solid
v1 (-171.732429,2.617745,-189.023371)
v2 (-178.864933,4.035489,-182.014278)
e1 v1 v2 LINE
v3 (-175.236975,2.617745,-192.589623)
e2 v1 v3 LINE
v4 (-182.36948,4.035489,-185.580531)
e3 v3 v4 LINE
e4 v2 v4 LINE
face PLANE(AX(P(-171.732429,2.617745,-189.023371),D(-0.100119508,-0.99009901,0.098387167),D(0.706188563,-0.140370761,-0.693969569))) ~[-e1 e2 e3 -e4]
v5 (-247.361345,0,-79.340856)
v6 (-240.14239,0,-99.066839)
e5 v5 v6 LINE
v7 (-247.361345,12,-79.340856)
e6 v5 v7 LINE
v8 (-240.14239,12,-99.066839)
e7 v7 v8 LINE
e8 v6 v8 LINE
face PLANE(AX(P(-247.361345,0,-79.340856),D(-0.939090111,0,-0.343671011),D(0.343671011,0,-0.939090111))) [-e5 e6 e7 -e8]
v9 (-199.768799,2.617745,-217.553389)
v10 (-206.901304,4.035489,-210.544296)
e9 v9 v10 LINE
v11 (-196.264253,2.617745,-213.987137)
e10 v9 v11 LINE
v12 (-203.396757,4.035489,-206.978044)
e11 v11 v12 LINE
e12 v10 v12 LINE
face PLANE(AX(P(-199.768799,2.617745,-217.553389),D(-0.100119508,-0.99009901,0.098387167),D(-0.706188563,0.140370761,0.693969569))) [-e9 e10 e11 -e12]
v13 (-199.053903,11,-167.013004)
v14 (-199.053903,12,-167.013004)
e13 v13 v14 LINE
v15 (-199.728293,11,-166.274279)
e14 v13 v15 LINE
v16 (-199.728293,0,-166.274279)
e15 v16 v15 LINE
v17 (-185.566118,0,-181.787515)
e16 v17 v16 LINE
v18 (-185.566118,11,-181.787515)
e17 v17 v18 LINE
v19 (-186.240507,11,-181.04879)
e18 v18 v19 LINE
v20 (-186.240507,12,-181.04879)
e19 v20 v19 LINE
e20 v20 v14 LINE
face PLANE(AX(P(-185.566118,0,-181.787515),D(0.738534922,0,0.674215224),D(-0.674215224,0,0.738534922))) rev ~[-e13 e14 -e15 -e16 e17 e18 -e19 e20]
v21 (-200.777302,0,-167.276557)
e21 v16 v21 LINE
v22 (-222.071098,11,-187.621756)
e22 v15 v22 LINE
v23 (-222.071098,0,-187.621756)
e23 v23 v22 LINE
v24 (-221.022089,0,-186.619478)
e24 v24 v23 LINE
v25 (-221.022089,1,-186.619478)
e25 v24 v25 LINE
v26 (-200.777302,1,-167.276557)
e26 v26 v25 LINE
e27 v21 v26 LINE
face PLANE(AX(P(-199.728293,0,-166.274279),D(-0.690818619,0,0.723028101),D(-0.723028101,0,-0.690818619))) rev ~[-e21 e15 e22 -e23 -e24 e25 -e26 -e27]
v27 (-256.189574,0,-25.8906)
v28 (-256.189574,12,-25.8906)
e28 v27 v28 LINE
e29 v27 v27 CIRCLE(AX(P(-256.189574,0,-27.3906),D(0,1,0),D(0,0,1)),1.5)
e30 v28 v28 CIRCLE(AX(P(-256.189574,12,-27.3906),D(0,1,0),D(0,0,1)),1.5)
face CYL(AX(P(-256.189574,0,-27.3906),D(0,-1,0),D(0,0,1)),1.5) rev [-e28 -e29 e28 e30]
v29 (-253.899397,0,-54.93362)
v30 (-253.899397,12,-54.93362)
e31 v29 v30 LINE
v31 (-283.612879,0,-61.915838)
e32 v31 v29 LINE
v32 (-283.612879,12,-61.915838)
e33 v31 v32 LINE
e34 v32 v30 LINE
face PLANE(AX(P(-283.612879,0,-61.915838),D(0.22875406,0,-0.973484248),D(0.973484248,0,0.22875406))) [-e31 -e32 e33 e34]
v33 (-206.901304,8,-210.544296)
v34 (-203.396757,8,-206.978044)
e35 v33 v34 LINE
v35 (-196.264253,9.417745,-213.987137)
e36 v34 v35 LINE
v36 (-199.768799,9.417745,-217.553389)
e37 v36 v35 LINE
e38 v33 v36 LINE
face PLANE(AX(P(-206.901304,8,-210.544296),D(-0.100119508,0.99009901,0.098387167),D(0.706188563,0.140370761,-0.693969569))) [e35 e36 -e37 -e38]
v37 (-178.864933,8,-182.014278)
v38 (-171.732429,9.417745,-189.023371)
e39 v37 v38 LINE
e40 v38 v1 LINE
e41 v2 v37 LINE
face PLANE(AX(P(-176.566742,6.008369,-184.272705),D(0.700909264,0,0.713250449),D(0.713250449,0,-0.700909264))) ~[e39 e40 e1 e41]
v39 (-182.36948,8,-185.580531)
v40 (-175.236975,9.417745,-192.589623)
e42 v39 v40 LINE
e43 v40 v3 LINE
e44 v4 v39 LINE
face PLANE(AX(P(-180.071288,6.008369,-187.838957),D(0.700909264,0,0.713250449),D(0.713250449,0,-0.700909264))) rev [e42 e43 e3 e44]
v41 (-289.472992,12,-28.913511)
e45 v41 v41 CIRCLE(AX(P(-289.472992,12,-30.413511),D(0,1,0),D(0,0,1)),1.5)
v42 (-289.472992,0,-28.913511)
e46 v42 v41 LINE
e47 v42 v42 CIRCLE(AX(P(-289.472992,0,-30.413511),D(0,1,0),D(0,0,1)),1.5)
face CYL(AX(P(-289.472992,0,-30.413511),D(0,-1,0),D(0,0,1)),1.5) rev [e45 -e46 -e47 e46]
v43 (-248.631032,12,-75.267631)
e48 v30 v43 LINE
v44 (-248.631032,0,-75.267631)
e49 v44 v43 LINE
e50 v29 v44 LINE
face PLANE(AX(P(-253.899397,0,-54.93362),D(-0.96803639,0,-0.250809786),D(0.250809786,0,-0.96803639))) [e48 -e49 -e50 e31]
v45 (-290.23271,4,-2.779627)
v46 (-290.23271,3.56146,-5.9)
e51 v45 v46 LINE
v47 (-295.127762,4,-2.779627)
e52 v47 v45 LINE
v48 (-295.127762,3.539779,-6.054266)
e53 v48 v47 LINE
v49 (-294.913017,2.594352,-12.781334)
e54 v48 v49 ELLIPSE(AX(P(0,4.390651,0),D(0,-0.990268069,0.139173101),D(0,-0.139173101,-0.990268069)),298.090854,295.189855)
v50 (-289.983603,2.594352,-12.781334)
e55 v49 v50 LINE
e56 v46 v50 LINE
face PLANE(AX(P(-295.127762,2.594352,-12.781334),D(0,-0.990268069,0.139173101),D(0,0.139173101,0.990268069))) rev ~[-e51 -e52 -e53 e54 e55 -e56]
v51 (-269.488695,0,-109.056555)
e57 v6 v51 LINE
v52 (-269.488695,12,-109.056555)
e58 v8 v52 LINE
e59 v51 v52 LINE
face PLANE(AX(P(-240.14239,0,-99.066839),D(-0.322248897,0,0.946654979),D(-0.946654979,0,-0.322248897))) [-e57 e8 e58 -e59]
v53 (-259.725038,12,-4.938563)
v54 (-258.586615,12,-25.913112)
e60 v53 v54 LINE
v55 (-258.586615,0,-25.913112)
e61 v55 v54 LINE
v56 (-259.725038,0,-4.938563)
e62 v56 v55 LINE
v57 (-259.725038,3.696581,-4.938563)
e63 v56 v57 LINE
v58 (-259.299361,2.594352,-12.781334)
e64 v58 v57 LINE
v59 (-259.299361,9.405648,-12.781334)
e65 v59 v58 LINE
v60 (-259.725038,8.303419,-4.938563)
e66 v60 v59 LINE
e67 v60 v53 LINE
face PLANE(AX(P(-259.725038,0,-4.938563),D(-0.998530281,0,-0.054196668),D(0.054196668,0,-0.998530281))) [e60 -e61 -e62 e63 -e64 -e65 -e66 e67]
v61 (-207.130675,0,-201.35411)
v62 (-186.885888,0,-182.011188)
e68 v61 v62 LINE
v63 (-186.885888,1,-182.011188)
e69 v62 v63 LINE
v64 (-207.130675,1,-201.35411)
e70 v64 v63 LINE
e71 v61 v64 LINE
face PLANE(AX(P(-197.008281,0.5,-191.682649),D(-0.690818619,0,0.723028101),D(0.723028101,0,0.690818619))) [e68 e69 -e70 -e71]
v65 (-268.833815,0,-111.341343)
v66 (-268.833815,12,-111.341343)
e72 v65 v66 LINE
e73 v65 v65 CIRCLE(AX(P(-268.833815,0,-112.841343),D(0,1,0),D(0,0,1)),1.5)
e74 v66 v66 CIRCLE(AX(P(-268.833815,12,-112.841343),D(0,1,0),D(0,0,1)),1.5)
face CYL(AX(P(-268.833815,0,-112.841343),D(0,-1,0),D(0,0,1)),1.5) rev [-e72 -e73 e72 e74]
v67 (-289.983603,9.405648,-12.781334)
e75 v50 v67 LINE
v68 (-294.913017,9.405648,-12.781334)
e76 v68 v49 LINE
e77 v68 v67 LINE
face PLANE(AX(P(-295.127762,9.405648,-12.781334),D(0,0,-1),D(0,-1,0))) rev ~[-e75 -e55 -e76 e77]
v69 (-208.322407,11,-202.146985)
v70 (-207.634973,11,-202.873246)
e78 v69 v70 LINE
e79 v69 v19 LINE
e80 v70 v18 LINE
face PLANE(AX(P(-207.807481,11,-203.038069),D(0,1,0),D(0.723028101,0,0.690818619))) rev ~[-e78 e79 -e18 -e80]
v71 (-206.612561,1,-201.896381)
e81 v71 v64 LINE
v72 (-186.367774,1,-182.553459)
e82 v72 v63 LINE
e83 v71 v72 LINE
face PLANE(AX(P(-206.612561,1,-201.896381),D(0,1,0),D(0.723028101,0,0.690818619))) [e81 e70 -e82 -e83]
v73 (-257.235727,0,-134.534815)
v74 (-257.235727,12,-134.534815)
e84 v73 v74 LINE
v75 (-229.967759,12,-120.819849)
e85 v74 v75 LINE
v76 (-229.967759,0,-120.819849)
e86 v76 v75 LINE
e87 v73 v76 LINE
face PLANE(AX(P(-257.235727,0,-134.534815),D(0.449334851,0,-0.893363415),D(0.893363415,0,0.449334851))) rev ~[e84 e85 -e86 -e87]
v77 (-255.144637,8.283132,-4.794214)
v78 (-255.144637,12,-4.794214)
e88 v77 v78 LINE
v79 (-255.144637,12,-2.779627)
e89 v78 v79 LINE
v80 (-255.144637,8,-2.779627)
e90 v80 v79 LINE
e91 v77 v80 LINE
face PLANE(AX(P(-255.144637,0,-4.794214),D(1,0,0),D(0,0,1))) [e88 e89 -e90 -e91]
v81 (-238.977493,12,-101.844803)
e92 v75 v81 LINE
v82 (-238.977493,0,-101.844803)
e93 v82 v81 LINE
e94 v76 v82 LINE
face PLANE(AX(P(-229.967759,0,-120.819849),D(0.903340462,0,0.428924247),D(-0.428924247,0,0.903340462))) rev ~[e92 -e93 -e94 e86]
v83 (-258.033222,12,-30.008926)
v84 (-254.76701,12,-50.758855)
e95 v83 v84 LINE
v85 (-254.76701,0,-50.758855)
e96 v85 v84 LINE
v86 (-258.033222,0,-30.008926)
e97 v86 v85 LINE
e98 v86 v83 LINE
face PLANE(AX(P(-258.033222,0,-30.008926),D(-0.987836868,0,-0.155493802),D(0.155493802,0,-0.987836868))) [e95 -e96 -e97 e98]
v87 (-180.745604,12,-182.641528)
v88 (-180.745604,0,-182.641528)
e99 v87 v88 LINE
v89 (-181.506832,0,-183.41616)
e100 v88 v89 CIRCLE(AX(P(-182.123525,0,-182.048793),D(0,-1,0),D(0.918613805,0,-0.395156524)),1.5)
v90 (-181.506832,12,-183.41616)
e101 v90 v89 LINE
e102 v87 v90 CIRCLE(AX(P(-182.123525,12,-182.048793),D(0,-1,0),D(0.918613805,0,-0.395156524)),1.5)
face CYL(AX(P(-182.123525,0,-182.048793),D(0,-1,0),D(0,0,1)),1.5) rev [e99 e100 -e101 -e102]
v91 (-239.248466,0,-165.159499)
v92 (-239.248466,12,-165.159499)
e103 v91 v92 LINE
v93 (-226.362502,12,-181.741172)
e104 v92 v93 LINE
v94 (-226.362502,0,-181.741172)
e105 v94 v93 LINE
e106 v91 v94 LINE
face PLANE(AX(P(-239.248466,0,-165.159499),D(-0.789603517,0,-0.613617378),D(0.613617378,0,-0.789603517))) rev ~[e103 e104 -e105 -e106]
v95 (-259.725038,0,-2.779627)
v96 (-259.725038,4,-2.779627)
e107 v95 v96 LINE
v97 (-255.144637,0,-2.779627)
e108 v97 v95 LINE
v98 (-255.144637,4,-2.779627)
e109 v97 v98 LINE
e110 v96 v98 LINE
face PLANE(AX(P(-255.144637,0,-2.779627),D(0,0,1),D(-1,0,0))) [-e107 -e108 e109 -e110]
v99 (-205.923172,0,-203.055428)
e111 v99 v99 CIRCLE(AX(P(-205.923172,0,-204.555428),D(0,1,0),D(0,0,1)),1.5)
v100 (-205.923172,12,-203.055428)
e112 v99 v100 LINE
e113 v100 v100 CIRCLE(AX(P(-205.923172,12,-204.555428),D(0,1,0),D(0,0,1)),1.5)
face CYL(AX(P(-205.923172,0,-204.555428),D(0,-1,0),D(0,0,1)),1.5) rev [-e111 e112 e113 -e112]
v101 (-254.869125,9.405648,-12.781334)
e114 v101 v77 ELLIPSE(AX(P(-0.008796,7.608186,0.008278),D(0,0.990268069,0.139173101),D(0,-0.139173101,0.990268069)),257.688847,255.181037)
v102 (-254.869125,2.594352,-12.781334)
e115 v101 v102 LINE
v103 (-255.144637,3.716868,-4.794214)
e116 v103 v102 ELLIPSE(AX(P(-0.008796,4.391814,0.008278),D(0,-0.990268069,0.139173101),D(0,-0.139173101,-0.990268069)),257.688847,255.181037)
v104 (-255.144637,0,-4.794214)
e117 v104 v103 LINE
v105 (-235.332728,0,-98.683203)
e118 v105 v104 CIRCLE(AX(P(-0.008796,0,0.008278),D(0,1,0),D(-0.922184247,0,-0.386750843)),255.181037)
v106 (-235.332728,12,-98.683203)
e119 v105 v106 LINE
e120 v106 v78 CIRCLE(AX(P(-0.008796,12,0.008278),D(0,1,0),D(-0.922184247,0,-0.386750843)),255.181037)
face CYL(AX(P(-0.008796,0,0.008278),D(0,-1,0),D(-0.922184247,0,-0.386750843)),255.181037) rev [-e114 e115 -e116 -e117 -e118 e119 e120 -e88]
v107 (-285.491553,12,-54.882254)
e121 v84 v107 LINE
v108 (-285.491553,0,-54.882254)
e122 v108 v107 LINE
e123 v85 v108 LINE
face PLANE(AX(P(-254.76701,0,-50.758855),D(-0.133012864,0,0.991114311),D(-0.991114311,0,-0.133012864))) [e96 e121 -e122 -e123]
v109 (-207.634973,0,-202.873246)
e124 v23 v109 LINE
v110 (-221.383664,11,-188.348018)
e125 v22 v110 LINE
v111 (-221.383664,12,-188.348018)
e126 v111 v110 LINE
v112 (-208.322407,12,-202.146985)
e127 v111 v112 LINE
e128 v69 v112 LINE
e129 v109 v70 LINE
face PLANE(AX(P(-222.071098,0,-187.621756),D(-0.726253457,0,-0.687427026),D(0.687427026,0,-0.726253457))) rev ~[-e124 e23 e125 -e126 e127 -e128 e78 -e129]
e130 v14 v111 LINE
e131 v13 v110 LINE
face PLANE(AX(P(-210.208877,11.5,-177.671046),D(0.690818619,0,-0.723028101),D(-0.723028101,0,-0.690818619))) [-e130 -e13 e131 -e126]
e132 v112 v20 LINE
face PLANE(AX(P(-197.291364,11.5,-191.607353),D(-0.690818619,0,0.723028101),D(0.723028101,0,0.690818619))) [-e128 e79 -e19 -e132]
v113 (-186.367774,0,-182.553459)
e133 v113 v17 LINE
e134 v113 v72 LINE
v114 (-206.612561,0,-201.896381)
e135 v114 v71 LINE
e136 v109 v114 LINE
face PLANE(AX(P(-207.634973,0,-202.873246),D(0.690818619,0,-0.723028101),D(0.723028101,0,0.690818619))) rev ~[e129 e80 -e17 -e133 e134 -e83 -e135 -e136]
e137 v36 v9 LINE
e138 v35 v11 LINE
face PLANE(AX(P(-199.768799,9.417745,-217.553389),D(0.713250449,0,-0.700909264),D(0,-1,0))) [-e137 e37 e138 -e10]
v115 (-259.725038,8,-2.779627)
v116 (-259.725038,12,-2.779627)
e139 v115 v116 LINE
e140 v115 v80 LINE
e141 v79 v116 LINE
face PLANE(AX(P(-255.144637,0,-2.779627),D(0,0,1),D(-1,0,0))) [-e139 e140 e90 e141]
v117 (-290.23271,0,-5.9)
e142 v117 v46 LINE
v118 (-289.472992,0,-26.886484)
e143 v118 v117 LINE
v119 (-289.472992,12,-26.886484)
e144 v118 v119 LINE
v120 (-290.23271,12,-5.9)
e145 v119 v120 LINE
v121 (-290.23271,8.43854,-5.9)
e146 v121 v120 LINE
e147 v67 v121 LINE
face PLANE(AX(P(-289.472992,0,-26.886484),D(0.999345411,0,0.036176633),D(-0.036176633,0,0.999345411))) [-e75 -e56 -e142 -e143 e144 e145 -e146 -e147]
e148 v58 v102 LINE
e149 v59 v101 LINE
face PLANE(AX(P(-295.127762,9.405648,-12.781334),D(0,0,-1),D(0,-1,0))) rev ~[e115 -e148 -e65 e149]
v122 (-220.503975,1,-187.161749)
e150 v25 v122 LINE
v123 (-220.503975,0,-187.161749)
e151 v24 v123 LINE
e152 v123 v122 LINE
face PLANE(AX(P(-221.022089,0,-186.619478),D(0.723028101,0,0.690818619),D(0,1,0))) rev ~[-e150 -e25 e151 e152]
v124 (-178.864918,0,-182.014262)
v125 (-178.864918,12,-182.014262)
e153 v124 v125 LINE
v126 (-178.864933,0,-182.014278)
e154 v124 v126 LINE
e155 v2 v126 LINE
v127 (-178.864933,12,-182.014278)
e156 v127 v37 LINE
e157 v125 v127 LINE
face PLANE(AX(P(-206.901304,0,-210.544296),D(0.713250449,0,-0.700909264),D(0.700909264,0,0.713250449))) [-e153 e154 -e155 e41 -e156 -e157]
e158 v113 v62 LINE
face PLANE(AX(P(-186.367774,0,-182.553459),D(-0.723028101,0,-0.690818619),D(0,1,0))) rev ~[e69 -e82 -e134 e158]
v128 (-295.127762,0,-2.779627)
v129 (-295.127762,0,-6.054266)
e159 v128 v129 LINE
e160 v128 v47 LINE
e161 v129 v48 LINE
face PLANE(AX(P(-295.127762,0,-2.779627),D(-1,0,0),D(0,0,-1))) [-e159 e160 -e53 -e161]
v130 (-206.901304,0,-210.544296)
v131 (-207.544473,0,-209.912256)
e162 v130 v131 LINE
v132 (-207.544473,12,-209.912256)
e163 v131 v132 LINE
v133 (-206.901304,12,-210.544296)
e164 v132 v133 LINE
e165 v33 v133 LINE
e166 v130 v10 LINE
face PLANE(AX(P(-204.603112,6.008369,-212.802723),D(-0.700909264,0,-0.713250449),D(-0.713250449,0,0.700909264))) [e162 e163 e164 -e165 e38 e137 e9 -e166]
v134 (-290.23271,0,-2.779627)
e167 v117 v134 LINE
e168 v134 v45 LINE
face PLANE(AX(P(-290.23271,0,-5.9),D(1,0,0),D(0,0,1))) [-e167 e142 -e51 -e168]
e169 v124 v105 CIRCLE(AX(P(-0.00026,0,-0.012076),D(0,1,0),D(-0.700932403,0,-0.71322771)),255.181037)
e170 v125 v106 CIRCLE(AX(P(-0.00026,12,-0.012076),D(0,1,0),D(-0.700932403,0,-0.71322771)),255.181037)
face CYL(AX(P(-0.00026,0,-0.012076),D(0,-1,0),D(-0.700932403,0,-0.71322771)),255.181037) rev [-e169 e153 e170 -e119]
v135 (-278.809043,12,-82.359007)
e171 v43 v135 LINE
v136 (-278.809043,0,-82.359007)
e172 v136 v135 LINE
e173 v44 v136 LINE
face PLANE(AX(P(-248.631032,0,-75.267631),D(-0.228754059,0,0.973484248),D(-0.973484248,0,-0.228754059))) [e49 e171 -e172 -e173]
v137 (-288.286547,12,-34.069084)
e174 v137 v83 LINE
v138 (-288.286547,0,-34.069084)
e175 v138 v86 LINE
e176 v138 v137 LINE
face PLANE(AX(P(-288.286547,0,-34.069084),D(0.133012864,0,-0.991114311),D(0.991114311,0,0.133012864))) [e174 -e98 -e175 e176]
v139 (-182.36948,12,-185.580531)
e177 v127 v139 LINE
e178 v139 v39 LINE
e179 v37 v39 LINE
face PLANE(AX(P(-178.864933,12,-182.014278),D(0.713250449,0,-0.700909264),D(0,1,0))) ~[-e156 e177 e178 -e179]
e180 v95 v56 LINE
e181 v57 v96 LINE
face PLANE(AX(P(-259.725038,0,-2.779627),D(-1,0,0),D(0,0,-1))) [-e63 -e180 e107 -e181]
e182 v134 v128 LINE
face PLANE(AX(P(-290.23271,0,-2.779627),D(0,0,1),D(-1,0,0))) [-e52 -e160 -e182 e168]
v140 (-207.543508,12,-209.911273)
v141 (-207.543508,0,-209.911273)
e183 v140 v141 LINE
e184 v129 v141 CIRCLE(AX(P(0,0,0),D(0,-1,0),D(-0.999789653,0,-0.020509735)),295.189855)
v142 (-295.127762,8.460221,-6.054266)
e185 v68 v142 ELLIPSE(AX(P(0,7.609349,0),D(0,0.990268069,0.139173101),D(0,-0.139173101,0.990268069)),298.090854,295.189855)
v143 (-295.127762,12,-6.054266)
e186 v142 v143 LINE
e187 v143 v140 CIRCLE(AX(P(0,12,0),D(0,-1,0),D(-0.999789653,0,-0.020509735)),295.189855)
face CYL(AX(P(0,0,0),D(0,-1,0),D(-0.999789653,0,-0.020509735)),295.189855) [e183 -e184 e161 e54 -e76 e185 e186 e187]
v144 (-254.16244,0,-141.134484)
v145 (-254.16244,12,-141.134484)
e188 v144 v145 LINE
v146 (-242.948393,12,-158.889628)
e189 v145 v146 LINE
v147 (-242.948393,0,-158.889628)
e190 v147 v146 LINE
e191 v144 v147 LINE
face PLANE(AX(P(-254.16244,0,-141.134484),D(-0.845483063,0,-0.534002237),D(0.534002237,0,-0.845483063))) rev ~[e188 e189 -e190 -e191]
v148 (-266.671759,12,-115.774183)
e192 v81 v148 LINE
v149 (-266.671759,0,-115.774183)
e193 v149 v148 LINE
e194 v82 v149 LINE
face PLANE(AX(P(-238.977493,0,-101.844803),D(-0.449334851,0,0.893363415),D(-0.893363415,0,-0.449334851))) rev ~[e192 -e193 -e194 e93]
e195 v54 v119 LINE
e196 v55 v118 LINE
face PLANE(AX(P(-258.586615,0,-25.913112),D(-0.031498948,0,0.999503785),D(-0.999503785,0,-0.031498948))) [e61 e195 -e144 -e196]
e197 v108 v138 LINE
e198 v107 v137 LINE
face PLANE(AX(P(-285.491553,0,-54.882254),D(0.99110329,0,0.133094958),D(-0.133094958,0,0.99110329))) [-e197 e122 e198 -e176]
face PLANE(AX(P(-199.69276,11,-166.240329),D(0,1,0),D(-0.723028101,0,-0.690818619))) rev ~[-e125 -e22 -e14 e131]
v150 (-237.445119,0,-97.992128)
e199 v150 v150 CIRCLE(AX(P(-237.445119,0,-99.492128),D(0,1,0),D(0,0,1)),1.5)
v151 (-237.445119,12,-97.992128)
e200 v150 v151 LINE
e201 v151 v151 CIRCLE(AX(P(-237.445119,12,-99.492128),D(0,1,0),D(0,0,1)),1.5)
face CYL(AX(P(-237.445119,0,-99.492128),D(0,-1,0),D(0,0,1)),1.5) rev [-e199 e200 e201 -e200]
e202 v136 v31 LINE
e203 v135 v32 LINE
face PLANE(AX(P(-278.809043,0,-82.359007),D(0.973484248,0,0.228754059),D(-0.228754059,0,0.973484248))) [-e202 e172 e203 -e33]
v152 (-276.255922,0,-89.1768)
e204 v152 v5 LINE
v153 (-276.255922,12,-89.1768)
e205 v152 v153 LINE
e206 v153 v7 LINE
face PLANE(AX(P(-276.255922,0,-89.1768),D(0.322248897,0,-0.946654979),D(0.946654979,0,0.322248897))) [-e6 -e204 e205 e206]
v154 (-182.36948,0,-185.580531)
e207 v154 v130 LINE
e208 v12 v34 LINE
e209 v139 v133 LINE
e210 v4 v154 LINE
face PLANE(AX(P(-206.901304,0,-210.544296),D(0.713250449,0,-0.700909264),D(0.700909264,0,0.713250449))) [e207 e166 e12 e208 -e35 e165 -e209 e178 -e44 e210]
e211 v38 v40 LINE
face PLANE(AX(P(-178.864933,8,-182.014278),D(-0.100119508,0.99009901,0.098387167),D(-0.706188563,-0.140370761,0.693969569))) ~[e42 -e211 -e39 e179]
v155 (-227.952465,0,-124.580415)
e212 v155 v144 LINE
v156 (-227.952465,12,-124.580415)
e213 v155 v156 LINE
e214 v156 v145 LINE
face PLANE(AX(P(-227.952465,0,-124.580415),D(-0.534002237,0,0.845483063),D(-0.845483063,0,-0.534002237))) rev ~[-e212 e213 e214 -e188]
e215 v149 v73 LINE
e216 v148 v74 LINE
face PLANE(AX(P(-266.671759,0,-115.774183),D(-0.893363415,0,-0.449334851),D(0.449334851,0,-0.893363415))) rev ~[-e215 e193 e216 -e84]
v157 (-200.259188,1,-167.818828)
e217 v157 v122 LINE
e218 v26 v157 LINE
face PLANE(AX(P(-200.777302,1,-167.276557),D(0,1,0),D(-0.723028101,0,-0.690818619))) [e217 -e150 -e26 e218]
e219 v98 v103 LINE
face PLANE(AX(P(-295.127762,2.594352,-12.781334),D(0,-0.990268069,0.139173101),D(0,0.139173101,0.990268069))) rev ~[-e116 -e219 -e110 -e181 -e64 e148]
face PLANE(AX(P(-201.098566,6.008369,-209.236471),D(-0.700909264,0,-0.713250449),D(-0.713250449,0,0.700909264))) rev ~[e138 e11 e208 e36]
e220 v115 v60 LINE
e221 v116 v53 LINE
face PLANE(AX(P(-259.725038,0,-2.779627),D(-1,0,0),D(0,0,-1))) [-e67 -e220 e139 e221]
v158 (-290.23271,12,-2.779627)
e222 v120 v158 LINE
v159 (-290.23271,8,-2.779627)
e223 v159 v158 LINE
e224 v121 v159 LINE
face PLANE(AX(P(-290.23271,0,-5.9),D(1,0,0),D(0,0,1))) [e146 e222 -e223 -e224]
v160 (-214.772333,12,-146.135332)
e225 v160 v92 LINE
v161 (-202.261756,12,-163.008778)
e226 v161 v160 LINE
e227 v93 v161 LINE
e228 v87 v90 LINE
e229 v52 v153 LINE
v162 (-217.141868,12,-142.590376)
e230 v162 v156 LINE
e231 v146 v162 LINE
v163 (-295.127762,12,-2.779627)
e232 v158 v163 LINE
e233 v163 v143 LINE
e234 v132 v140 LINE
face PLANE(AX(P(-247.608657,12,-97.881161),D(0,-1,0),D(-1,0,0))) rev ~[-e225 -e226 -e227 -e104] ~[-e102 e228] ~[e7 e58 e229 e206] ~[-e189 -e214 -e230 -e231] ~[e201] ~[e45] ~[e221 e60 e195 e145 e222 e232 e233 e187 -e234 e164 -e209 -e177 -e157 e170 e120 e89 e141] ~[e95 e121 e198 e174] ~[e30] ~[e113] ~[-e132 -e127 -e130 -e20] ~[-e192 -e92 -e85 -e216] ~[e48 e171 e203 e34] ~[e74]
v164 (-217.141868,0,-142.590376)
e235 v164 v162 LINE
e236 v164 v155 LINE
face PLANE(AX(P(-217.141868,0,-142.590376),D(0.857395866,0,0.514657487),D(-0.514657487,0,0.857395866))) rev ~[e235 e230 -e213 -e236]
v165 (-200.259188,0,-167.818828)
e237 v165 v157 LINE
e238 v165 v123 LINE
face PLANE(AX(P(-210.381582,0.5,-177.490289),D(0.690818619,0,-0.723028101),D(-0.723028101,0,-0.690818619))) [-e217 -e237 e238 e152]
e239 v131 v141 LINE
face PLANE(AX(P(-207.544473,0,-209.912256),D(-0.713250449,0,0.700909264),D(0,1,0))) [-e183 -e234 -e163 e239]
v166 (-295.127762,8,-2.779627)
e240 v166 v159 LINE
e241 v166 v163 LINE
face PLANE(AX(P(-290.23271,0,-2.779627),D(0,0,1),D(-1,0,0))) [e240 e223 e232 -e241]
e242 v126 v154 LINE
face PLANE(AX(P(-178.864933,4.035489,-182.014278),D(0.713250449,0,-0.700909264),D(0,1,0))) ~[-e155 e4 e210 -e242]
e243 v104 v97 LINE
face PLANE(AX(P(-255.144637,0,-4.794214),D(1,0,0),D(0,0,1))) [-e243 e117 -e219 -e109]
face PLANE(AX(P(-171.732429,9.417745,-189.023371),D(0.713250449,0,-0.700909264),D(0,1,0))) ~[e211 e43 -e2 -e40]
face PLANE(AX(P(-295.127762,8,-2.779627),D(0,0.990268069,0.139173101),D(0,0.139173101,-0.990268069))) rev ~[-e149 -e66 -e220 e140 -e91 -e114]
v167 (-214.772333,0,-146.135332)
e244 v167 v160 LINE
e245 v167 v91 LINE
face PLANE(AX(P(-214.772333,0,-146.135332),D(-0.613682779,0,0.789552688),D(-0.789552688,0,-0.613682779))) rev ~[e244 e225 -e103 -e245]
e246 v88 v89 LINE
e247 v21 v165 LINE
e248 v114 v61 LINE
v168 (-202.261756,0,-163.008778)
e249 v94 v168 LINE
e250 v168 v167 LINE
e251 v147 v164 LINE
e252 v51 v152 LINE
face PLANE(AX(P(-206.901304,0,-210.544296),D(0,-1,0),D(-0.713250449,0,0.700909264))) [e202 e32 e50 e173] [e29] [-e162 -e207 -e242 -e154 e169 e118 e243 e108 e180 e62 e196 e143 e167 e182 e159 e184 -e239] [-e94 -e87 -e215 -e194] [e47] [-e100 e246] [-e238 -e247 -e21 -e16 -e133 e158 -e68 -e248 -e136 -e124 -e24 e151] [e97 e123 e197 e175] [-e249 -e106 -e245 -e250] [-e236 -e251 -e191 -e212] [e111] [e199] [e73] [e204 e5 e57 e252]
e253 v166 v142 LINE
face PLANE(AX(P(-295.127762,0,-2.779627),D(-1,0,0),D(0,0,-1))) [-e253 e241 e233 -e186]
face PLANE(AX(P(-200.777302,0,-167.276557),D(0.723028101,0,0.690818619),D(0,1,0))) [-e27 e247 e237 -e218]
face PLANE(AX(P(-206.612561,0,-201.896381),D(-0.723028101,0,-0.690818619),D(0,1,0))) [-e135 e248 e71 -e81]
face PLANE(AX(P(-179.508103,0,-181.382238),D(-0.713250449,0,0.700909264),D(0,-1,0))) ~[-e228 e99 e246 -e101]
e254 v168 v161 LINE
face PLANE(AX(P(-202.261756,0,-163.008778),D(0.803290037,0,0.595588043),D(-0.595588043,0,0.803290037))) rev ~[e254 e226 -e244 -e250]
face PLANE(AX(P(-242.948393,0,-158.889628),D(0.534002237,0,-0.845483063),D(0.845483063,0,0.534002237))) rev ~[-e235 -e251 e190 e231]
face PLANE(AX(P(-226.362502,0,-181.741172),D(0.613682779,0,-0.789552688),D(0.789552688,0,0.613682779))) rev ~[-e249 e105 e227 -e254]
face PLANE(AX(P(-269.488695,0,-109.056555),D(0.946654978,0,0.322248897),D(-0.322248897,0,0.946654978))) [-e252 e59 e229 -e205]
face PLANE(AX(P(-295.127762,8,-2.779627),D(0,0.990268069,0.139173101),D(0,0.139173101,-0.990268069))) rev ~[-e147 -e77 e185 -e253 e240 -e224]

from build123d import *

# Parameters (mm, degrees)
SKETCH1_R           = 1.500000001
SKETCH1_R_2         = 1.5
BOSS_EXTRUDE1_DEPTH = 12
SKETCH6_W           = 31
SKETCH6_H           = 1
BOSS_EXTRUDE2_DEPTH = 1
SKETCH7_W           = 31
SKETCH7_H           = 1
BOSS_EXTRUDE3_DEPTH = 1
SKETCH8_W           = 28
SKETCH8_H           = 1
BOSS_EXTRUDE4_DEPTH = 0.75
SKETCH9_W           = 28
SKETCH9_H           = 1
BOSS_EXTRUDE5_DEPTH = 0.75
CUT_EXTRUDE5_DEPTH  = 41
BOSS_EXTRUDE6_DEPTH = 5


with BuildPart() as part:
    # Sketch1 → Boss-Extrude1 (new body)
    with BuildSketch(Plane(origin=(0, 0, 0), x_dir=(1, 0, 0), z_dir=(0, 1, 0))):
        with BuildLine():
            Line((-206.901303799, 210.544296342), (-178.864917553, 182.014262429))
            ThreePointArc((-178.864917553, 182.014262429), (-211.248528729, 143.160707083), (-235.332727793, 98.683202756))
            ThreePointArc((-235.332727793, 98.683202756), (-249.691560201, 52.678328759), (-255.14463702, 4.794213931))
            Line((-255.14463702, 4.794213931), (-255.14463702, 2.779626552))
            Line((-255.14463702, 2.779626552), (-259.725038425, 2.779626552))
            Line((-259.725038425, 2.779626552), (-259.725038425, 4.938563385))
            Line((-259.725038425, 4.938563385), (-258.586614607, 25.913112119))
            Line((-258.586614607, 25.913112119), (-289.472992235, 26.886483517))
            Line((-289.472992235, 26.886483517), (-290.232709847, 5.900000013))
            Line((-290.232709847, 5.900000013), (-290.232709847, 2.779626551))
            Line((-290.232709847, 2.779626551), (-295.127762341, 2.779626551))
            Line((-295.127762341, 2.779626551), (-295.127762341, 6.054265565))
            ThreePointArc((-295.127762341, 6.054265565), (-271.03936796, 116.93892103), (-206.901303799, 210.544296342))
        make_face()
        with Locations(Location((-205.923171716, 204.555428223, 0), (0, 0, 270))):
            Circle(SKETCH1_R, mode=Mode.SUBTRACT)
        with Locations(Location((-182.123524849, 182.048793456, 0), (0, 0, 270))):
            Circle(SKETCH1_R_2, mode=Mode.SUBTRACT)
        with Locations(Location((-289.472992235, 30.413510705, 0), (0, 0, 270))):
            Circle(SKETCH1_R_2, mode=Mode.SUBTRACT)
        with Locations(Location((-256.189573648, 27.390600482, 0), (0, 0, 270))):
            Circle(SKETCH1_R_2, mode=Mode.SUBTRACT)
        with Locations(Location((-237.445118633, 99.492127605, 0), (0, 0, 270))):
            Circle(SKETCH1_R_2, mode=Mode.SUBTRACT)
        with Locations(Location((-268.833815416, 112.841343478, 0), (0, 0, 270))):
            Circle(SKETCH1_R_2, mode=Mode.SUBTRACT)
        Polygon((-288.286547304, 34.069084362), (-258.033222279, 30.008925637), (-254.767009525, 50.758854735), (-285.491553173, 54.882253531), align=None, mode=Mode.SUBTRACT)
        Polygon((-283.612878523, 61.915838046), (-253.89939669, 54.933619681), (-248.631031599, 75.267631401), (-278.809043274, 82.359007245), align=None, mode=Mode.SUBTRACT)
        Polygon((-276.255921554, 89.176800074), (-247.361344598, 79.340855863), (-240.142390382, 99.066838813), (-269.488694715, 109.056554622), align=None, mode=Mode.SUBTRACT)
        Polygon((-229.967759139, 120.819849226), (-238.977493449, 101.844802692), (-266.671759318, 115.77418308), (-257.235727442, 134.534814797), align=None, mode=Mode.SUBTRACT)
        Polygon((-217.141868251, 142.590375773), (-227.952465343, 124.580414811), (-254.16244031, 141.134484167), (-242.948393328, 158.889628499), align=None, mode=Mode.SUBTRACT)
        Polygon((-202.261755682, 163.008777697), (-214.772333152, 146.135332444), (-239.248466479, 165.159498585), (-226.362501502, 181.741172494), align=None, mode=Mode.SUBTRACT)
        Polygon((-185.566118156, 181.787515485), (-199.72829266, 166.274278663), (-222.071098467, 187.621756348), (-207.634972794, 202.873245989), align=None, mode=Mode.SUBTRACT)
    extrude(amount=BOSS_EXTRUDE1_DEPTH)

    # Sketch6 → Boss-Extrude2 (add)
    with BuildSketch(Plane(origin=(2.241673695, 0, -2.346191939), x_dir=(0.7230281012906209, 0, 0.6908186192801116), z_dir=(-0.6908186192801116, 0, 0.7230281012906209))):
        with Locations((-275.013127173, 11.5)):
            Rectangle(SKETCH6_W, SKETCH6_H)
    extrude(amount=BOSS_EXTRUDE2_DEPTH)

    # Sketch7 → Boss-Extrude3 (add)
    with BuildSketch(Plane(origin=(-12.265517311, 0, 12.83739819), x_dir=(-0.7230281012906384, 0, -0.6908186192800932), z_dir=(0.6908186192800932, 0, -0.7230281012906384))):
        with Locations((274.725391583, 11.5)):
            Rectangle(SKETCH7_W, SKETCH7_H)
    extrude(amount=BOSS_EXTRUDE3_DEPTH)

    # Sketch8 → Boss-Extrude4 (add)
    with BuildSketch(Plane(origin=(-12.265517311, 0, 12.83739819), x_dir=(-0.7230281012906384, 0, -0.6908186192800932), z_dir=(0.6908186192800932, 0, -0.7230281012906384))):
        with Locations((274.725391583, 0.5)):
            Rectangle(SKETCH8_W, SKETCH8_H)
    extrude(amount=BOSS_EXTRUDE4_DEPTH)

    # Sketch9 → Boss-Extrude5 (add)
    with BuildSketch(Plane(origin=(2.241673695, 0, -2.346191939), x_dir=(0.7230281012906209, 0, 0.6908186192801116), z_dir=(-0.6908186192801116, 0, 0.7230281012906209))):
        with Locations((-274.86046651, 0.5)):
            Rectangle(SKETCH9_W, SKETCH9_H)
    extrude(amount=BOSS_EXTRUDE5_DEPTH)

    # Sketch10 → Cut-Extrude5 (cut)
    with BuildSketch(Plane.ZY.offset(295.127762341)):
        Polygon((-2.779626551, 12), (-2.779626551, 8), (-12.781334045, 9.40564832), (-12.781334045, 2.59435168), (-2.779626551, 4), (-2.779626551, 0), (4.575602147, 0), (4.575602147, 12), align=None)
    extrude(amount=-CUT_EXTRUDE5_DEPTH, mode=Mode.SUBTRACT)

    # Sketch12 → Boss-Extrude6 (add)
    with BuildSketch(Plane(origin=(-206.901303799, 0, -210.544296342), x_dir=(-0.7132504491210117, 0, 0.700909264333605), z_dir=(-0.700909264333605, 0, -0.7132504491210117))):
        Polygon((0, 12), (0, 8), (-10, 9.417744688), (-10, 2.617744688), (0, 4.035489376), (0, 0), (0.901744135, 0), (0.901744135, 12), align=None)
    boss_extrude6 = extrude(amount=-BOSS_EXTRUDE6_DEPTH)

    # Mirror2: Boss-Extrude6 across plane
    add(boss_extrude6.mirror(Plane(origin=(-192.883118513, 0, -196.27928736), x_dir=(-0.7132504491210118, 0, 0.7009092643336048), z_dir=(-0.700909264333605, 0, -0.7132504491210117))))


solid = part.part
